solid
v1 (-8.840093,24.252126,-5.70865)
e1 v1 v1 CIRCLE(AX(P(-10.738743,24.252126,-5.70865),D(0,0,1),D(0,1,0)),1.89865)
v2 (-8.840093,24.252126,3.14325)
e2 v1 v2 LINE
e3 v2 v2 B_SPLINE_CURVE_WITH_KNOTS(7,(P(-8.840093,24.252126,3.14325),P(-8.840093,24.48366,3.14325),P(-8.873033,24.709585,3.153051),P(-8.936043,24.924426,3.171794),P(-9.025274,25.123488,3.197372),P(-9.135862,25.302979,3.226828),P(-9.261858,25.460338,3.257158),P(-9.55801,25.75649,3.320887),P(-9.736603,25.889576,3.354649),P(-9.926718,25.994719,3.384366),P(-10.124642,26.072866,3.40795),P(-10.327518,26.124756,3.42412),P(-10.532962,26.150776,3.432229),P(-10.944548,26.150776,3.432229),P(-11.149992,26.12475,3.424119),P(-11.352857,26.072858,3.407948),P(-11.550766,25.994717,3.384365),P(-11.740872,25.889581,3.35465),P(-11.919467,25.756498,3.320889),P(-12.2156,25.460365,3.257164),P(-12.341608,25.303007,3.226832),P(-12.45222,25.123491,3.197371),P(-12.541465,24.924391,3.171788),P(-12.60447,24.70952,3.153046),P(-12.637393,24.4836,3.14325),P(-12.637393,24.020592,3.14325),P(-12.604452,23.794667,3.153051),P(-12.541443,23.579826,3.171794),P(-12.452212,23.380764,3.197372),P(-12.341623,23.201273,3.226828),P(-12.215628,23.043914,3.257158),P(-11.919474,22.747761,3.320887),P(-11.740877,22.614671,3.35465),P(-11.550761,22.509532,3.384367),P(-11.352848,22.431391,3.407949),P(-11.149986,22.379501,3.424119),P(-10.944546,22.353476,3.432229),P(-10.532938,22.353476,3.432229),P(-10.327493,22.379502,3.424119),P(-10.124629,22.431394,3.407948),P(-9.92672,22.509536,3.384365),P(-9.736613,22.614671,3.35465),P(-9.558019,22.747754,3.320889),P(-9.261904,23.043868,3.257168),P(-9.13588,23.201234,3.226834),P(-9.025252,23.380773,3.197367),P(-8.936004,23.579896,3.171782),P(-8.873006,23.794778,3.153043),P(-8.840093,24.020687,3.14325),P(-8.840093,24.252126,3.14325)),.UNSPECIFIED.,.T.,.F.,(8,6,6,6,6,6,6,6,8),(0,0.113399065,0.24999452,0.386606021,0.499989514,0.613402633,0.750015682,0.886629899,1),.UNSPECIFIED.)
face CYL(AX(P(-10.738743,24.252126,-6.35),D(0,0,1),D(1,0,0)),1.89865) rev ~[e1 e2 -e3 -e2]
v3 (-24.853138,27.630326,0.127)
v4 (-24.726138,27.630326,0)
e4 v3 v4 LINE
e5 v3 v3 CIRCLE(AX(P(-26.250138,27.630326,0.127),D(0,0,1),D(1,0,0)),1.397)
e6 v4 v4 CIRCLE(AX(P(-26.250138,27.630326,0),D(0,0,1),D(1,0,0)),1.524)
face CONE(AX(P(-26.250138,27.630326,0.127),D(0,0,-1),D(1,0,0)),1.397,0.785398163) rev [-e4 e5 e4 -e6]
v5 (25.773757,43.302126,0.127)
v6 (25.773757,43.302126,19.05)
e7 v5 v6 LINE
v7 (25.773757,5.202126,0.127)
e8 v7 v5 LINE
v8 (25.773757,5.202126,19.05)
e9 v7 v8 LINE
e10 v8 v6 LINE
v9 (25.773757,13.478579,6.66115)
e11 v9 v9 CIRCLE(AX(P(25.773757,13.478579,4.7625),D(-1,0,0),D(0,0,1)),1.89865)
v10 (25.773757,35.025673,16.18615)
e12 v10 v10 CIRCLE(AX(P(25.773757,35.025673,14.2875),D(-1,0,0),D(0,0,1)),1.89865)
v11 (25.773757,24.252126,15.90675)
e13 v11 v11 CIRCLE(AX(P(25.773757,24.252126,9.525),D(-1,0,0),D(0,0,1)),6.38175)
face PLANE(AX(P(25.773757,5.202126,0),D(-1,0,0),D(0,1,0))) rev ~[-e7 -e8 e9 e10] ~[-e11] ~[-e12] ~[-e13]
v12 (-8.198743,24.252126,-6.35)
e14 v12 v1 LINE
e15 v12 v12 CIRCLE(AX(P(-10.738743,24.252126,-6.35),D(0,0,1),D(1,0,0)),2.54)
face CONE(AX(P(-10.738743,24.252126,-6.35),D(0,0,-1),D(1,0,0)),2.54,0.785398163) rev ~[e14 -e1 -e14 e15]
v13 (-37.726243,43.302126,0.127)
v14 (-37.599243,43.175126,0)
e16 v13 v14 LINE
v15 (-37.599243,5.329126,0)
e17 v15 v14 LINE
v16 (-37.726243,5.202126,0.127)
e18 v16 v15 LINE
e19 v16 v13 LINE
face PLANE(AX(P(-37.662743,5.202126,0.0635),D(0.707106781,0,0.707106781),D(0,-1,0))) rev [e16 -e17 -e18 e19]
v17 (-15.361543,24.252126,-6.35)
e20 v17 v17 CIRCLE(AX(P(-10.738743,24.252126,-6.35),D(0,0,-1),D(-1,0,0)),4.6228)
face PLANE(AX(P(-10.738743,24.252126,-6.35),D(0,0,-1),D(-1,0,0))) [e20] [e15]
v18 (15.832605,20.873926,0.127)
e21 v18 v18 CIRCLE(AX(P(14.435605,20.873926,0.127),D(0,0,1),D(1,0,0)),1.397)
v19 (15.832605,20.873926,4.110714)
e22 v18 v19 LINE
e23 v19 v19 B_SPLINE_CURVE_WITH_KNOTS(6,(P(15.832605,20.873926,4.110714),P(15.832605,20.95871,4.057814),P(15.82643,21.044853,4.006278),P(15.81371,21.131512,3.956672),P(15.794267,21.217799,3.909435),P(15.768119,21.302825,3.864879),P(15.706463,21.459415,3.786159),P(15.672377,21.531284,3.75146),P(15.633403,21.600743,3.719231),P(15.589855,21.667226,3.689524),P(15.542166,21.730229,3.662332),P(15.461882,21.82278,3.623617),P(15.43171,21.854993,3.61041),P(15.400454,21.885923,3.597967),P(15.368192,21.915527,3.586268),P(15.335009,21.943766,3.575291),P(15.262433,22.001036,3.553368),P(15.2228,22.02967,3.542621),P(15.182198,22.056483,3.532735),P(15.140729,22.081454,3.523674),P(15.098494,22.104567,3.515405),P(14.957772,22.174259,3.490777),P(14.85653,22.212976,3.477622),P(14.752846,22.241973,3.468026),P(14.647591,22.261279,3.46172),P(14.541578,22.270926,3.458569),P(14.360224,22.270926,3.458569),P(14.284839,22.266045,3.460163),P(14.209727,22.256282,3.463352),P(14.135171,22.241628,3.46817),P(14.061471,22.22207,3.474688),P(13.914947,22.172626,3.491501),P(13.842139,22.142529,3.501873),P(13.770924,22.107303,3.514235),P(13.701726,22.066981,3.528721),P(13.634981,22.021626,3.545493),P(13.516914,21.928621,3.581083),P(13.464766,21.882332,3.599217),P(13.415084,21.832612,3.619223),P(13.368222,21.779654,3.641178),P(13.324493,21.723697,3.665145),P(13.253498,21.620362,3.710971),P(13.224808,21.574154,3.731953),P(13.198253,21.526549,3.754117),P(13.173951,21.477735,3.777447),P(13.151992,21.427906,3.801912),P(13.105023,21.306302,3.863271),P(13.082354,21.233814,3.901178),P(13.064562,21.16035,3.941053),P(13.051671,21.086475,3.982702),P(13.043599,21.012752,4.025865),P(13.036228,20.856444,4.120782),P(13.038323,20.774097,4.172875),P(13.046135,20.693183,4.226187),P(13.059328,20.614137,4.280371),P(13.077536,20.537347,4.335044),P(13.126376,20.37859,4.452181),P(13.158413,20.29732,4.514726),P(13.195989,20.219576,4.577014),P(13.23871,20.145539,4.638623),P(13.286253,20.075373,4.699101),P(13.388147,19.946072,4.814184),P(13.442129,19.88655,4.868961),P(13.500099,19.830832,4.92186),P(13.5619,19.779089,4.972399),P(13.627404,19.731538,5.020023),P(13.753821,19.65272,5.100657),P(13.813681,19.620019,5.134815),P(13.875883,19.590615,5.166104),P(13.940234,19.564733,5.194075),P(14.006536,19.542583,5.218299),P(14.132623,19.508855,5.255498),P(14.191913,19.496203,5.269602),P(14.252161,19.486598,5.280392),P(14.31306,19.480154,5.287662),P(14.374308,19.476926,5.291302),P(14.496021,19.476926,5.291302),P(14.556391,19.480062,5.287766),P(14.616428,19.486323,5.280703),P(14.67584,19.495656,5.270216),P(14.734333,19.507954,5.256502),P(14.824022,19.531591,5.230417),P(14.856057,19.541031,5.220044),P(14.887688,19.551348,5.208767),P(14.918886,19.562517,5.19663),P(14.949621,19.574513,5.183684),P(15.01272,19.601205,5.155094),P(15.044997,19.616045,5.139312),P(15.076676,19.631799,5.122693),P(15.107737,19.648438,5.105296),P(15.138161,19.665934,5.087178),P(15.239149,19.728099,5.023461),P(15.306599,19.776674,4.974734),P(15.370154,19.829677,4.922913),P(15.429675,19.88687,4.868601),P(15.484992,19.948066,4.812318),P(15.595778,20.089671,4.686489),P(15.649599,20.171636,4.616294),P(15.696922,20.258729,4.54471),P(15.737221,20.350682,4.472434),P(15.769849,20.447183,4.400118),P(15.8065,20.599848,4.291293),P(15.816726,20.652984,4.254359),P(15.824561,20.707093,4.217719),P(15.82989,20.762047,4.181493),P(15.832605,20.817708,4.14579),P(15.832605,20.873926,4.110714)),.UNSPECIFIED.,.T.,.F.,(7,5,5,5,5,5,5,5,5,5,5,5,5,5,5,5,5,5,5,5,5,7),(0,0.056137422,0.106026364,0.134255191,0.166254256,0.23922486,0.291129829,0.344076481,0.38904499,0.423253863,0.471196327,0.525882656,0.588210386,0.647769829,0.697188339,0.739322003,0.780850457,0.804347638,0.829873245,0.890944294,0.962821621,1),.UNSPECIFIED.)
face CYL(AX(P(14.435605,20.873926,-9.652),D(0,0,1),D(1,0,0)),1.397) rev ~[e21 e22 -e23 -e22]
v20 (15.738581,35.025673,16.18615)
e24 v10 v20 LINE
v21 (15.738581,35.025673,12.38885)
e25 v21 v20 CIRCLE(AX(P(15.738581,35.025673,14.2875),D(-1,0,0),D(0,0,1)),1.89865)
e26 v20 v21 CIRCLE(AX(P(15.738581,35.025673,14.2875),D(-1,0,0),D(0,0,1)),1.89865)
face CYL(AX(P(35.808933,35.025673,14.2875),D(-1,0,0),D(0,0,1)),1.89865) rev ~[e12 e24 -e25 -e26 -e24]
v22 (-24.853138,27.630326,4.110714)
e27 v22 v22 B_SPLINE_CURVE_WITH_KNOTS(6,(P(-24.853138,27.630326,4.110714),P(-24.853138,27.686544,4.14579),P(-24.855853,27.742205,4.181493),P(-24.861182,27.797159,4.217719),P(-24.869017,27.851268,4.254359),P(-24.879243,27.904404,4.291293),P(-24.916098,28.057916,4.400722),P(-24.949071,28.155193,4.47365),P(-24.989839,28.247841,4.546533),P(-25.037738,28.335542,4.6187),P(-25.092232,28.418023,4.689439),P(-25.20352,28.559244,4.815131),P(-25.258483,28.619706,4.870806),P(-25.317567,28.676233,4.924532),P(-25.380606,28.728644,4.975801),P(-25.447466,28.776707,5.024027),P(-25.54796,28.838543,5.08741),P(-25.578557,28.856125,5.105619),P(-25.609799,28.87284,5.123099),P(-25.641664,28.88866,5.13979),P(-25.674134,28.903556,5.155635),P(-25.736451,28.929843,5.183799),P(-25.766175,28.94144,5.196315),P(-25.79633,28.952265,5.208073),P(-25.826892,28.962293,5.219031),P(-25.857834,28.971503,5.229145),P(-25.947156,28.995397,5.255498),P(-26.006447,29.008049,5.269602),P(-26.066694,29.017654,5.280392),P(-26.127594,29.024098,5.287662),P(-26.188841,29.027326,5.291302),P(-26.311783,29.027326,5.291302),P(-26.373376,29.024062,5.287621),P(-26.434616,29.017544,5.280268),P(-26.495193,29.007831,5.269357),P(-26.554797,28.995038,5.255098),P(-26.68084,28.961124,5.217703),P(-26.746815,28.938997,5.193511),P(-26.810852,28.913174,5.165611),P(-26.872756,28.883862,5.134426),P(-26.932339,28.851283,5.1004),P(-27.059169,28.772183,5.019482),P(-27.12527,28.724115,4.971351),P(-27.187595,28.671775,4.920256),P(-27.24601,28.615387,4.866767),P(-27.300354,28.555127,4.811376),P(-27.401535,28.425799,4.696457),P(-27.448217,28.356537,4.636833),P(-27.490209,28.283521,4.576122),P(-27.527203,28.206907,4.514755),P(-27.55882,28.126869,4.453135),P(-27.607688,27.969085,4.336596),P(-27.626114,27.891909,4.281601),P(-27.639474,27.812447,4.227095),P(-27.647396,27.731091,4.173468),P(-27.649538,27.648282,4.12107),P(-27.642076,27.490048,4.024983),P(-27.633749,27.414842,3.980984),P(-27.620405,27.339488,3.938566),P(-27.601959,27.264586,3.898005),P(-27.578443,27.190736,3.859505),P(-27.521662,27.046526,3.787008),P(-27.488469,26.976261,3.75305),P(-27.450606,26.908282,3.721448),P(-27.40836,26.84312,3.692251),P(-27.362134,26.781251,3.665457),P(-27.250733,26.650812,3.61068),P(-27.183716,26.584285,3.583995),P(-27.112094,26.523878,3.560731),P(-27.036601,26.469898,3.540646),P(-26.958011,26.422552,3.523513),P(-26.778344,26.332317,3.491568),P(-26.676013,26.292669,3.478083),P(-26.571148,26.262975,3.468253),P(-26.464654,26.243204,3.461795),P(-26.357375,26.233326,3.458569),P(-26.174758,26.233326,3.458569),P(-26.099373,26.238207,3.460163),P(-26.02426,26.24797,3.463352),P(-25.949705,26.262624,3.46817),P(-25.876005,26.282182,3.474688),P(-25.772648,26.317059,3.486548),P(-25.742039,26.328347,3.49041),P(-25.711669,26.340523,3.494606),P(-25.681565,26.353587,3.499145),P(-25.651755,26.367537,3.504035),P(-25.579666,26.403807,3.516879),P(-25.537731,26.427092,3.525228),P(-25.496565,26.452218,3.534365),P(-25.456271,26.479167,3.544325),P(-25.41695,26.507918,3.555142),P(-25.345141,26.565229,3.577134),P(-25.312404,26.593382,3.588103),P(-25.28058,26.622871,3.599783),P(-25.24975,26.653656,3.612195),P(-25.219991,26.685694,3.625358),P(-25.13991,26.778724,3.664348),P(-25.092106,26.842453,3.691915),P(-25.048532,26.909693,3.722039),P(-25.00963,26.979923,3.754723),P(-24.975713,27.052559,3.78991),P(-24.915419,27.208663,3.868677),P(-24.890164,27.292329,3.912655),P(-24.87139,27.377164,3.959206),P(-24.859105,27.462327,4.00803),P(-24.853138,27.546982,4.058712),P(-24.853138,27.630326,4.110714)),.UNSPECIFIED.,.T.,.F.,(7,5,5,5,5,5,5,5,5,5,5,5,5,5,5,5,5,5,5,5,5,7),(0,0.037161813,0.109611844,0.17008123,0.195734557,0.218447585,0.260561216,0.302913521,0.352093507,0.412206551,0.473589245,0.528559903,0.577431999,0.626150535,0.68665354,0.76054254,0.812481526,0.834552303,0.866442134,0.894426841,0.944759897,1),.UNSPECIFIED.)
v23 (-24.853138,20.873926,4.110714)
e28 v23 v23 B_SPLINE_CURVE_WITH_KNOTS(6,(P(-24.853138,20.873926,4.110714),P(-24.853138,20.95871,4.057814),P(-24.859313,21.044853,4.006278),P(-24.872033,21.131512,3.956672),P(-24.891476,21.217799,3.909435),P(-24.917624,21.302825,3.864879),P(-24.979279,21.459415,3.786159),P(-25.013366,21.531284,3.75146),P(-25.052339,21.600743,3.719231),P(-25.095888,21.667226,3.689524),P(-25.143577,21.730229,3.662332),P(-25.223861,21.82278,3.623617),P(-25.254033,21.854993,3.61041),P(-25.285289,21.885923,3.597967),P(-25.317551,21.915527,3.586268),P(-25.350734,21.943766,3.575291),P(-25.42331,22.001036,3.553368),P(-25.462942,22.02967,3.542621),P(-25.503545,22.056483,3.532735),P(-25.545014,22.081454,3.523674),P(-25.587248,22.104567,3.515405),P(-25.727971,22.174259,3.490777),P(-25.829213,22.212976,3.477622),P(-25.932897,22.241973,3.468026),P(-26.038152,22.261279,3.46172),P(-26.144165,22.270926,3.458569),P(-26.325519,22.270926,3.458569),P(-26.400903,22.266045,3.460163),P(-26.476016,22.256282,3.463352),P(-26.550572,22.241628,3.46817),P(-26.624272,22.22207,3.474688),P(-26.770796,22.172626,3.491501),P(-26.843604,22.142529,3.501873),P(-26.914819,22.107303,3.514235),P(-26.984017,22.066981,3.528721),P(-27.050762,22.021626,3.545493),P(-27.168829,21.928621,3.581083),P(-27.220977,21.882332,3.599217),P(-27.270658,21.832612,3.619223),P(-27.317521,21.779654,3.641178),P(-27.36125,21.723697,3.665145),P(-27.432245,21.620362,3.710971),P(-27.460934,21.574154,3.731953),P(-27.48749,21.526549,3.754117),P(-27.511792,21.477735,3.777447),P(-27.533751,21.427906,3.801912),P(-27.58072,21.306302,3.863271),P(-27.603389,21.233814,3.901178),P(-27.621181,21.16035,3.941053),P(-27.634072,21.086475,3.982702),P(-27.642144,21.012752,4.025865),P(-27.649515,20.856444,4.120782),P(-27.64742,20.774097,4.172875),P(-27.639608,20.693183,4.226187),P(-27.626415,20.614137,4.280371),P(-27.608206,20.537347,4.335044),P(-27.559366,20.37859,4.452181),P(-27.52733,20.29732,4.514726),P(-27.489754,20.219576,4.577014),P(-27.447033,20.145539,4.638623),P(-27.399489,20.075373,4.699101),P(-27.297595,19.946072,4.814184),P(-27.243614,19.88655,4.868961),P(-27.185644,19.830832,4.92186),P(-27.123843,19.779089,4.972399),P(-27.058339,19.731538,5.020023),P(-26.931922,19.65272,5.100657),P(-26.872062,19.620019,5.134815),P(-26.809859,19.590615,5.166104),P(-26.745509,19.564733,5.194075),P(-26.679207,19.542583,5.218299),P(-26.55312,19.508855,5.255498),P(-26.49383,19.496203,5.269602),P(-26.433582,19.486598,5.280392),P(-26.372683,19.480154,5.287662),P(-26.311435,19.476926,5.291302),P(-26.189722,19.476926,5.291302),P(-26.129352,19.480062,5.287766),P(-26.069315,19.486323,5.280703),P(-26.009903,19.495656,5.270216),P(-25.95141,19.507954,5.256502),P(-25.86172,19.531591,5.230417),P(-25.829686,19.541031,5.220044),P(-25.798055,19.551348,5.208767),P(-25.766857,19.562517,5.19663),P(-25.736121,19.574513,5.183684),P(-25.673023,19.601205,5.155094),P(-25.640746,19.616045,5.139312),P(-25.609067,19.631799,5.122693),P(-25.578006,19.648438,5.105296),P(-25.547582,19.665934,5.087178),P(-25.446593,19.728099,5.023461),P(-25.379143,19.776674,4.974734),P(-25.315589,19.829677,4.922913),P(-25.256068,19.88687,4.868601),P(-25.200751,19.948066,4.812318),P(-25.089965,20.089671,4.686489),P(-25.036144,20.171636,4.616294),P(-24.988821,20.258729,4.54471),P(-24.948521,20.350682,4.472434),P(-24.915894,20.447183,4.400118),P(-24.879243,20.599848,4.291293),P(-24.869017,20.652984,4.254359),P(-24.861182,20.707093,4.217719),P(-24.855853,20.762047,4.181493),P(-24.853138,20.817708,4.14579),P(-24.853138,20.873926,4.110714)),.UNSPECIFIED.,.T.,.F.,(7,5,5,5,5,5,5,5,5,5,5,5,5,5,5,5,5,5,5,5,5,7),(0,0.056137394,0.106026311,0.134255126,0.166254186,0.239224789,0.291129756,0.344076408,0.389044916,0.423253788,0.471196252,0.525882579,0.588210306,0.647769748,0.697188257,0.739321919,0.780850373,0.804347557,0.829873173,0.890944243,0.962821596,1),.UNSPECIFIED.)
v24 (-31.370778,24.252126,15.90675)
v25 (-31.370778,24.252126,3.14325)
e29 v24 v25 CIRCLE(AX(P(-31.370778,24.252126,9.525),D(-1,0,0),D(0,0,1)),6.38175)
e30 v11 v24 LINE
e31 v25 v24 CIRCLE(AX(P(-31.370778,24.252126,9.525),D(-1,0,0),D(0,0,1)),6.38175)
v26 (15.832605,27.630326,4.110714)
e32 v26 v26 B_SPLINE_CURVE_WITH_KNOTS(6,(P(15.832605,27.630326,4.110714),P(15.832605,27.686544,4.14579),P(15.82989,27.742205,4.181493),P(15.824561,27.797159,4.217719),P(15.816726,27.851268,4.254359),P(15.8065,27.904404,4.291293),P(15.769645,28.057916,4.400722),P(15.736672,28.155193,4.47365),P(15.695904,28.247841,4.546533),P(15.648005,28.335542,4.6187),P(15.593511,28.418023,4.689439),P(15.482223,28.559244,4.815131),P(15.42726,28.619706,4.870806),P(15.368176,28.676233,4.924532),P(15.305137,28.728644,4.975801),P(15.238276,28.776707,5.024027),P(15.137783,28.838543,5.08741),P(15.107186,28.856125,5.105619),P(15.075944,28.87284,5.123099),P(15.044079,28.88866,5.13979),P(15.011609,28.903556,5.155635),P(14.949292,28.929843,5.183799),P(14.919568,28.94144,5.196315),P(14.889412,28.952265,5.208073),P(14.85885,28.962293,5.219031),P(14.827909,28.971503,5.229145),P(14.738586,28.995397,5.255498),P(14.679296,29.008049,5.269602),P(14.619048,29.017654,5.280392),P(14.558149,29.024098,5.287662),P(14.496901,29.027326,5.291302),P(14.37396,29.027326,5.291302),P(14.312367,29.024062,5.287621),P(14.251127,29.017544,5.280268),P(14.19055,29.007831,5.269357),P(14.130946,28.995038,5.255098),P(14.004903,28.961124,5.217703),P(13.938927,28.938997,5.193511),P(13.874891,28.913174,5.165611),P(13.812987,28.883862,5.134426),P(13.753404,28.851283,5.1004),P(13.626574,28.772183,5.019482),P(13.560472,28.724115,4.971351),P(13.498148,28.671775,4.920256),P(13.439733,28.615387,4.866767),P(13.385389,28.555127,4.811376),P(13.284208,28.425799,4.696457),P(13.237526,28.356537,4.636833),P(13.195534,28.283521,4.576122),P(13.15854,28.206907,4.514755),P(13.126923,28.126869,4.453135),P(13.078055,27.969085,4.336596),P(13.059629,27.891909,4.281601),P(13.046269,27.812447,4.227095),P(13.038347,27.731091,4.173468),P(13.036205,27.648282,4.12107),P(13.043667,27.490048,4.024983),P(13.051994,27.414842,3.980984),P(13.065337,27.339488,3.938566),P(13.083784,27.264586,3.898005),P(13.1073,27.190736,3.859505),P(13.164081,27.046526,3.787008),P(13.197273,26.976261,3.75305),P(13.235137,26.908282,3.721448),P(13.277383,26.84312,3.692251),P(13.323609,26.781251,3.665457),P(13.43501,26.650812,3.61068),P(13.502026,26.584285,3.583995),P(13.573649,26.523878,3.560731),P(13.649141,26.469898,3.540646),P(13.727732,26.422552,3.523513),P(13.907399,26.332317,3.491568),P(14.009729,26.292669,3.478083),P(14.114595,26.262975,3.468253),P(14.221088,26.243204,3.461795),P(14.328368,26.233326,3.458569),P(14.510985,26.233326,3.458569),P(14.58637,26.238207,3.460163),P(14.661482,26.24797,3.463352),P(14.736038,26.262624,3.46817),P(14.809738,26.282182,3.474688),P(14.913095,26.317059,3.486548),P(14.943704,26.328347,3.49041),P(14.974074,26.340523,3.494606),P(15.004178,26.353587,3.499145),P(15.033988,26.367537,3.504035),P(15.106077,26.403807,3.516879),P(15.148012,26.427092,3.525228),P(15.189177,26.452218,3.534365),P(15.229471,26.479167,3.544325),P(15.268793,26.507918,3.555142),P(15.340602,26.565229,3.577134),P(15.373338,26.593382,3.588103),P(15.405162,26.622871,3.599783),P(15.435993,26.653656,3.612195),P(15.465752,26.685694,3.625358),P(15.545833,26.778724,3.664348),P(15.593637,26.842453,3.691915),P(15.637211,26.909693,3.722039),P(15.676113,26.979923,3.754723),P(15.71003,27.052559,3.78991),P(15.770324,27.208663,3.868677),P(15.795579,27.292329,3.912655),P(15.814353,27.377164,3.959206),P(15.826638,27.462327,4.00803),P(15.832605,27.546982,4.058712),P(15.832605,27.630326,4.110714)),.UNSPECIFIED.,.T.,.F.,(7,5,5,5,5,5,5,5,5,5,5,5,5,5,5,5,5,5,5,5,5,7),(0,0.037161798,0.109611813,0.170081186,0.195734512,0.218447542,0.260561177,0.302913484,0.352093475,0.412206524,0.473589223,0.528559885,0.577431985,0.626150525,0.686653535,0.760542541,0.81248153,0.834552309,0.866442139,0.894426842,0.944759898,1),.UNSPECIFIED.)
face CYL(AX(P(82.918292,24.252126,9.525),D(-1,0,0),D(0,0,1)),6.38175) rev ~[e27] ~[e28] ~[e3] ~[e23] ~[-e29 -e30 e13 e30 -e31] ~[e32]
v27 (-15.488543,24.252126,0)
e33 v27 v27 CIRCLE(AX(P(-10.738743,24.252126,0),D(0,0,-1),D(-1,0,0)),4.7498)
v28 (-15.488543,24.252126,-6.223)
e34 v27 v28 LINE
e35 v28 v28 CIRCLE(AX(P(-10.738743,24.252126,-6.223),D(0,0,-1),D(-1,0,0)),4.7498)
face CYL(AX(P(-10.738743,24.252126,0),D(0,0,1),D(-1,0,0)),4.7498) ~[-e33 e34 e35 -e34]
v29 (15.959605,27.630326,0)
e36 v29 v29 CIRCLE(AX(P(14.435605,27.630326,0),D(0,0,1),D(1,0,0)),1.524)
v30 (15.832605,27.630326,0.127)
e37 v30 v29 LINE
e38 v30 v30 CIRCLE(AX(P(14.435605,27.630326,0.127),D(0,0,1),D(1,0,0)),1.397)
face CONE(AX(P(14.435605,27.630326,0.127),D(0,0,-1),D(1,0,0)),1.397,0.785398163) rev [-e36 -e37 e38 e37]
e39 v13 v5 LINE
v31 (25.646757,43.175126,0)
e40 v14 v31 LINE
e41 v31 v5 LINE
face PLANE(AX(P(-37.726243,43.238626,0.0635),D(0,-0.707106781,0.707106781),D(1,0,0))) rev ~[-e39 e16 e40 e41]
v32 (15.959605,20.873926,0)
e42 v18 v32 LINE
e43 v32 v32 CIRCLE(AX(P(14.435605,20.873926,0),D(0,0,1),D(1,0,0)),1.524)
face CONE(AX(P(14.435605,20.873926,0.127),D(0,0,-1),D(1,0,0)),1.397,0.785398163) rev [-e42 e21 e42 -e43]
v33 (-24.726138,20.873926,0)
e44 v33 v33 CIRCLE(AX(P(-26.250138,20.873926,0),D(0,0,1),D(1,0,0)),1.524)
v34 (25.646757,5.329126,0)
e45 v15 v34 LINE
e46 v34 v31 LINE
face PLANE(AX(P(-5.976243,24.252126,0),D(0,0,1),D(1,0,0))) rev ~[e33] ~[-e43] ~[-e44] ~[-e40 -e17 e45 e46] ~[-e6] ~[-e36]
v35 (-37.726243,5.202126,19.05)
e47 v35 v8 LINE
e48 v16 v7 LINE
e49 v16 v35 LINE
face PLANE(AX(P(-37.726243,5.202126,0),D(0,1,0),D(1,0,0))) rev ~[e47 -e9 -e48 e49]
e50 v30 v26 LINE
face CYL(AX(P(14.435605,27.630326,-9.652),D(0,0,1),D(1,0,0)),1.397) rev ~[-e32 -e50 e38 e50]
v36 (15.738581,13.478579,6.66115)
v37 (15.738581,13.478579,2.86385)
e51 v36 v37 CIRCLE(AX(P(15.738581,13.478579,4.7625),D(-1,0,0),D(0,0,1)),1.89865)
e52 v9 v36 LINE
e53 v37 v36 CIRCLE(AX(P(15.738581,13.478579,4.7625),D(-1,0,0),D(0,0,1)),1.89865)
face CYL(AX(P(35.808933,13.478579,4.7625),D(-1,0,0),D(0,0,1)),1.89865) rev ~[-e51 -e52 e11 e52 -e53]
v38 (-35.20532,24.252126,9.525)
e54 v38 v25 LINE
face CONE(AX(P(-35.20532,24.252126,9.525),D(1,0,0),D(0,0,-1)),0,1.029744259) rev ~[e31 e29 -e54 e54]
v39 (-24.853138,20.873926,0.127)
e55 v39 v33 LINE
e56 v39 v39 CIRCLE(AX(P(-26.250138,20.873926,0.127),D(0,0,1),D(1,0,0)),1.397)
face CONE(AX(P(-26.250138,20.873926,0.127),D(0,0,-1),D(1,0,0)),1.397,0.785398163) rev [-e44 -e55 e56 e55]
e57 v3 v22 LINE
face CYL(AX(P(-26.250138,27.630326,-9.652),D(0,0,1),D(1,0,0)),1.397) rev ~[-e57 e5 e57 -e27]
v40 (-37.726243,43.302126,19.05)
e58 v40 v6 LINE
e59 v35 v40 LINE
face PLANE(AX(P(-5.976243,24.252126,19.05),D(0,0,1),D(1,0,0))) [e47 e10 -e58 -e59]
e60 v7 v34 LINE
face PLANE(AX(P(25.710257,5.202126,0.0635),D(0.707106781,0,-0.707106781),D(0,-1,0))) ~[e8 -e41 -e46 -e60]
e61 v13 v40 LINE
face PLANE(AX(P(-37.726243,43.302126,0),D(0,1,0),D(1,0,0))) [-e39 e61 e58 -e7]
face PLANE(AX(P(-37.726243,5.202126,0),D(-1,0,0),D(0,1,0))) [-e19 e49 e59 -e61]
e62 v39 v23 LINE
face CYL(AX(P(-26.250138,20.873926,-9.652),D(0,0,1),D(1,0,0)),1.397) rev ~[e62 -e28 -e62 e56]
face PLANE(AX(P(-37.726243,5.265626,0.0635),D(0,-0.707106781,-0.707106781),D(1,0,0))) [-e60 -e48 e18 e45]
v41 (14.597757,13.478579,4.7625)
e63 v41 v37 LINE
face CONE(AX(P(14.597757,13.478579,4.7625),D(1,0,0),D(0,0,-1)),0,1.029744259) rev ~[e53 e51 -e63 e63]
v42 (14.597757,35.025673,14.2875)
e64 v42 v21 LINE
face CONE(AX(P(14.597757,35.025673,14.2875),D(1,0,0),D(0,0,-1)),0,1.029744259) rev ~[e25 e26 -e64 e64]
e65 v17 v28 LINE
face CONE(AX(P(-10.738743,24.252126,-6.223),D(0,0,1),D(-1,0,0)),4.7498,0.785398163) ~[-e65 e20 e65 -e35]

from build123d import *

# Parameters (mm, degrees)
SKETCH1_W                         = 63.5
SKETCH1_H                         = 38.1
BOSS_EXTRUDE1_DEPTH               = 19.05
F_1_2_0_5025_DIAMETER_HOLE1_D     = 12.7635
F_1_2_0_5025_DIAMETER_HOLE1_DEPTH = 57.144535069
F_1_2_0_5025_DIAMETER_HOLE1_TIP   = 3.834542255
F_35_0_11_DIAMETER_HOLE1_D        = 2.794
F_35_0_11_DIAMETER_HOLE1_DEPTH    = 9.652
F_35_0_11_DIAMETER_HOLE1_TIP      = 0.839402285
F_10_24_TAPPED_HOLE1_D            = 3.7973
F_10_24_TAPPED_HOLE1_DEPTH        = 10.035175986
F_10_24_TAPPED_HOLE1_TIP          = 1.140824014
SKETCH9_R                         = 4.7498
BOSS_EXTRUDE2_DEPTH               = 6.35
F_10_24_TAPPED_HOLE2_D            = 3.7973
F_10_24_TAPPED_HOLE2_DEPTH        = 10.414
F_10_24_TAPPED_HOLE2_CSINK_D      = 5.08
F_10_24_TAPPED_HOLE2_CSINK_ANGLE  = 90
F_10_24_TAPPED_HOLE2_TIP          = 1.140824014
CHAMFER1_SIZE                     = 0.127


with BuildPart() as part:
    # Sketch1 → Boss-Extrude1 (new body)
    with BuildSketch(Plane.XY):
        with Locations((-5.976242834, 24.252126053)):
            Rectangle(SKETCH1_W, SKETCH1_H)
    extrude(amount=BOSS_EXTRUDE1_DEPTH)

    # 1/2 (0.5025) Diameter Hole1
    with Locations(Plane(origin=(25.773757166, 0, 0), x_dir=(0, 0, -1), z_dir=(1, 0, 0))):
        with Locations((-9.525, 24.252126053)):
            Hole(F_1_2_0_5025_DIAMETER_HOLE1_D / 2, depth=F_1_2_0_5025_DIAMETER_HOLE1_DEPTH)
            with Locations((0, 0, -(F_1_2_0_5025_DIAMETER_HOLE1_DEPTH + F_1_2_0_5025_DIAMETER_HOLE1_TIP / 2))):  # 118° drill point
                Cone(0, F_1_2_0_5025_DIAMETER_HOLE1_D / 2, F_1_2_0_5025_DIAMETER_HOLE1_TIP, mode=Mode.SUBTRACT)

    # #35 (0.11) Diameter Hole1
    with Locations(Plane(origin=(0, 0, 0), x_dir=(-1, 0, 0), z_dir=(0, 0, -1))):
        with Locations((26.250138314, 20.873926053), (26.250138314, 27.630326053), (-14.435604522, 27.630326053), (-14.435604522, 20.873926053)):
            Hole(F_35_0_11_DIAMETER_HOLE1_D / 2, depth=F_35_0_11_DIAMETER_HOLE1_DEPTH)
            with Locations((0, 0, -(F_35_0_11_DIAMETER_HOLE1_DEPTH + F_35_0_11_DIAMETER_HOLE1_TIP / 2))):  # 118° drill point
                Cone(0, F_35_0_11_DIAMETER_HOLE1_D / 2, F_35_0_11_DIAMETER_HOLE1_TIP, mode=Mode.SUBTRACT)

    # #10-24 Tapped Hole1
    with Locations(Plane(origin=(25.773757166, 0, 0), x_dir=(0, 0, -1), z_dir=(1, 0, 0))):
        with Locations((-4.7625, 13.478578619), (-14.2875, 35.025673487)):
            Hole(F_10_24_TAPPED_HOLE1_D / 2, depth=F_10_24_TAPPED_HOLE1_DEPTH)
            with Locations((0, 0, -(F_10_24_TAPPED_HOLE1_DEPTH + F_10_24_TAPPED_HOLE1_TIP / 2))):  # 118° drill point
                Cone(0, F_10_24_TAPPED_HOLE1_D / 2, F_10_24_TAPPED_HOLE1_TIP, mode=Mode.SUBTRACT)

    # Sketch9 → Boss-Extrude2 (add)
    with BuildSketch(Plane(origin=(0, 0, 0), x_dir=(-1, 0, 0), z_dir=(0, 0, -1))):
        with Locations((10.738742834, 24.252126053)):
            Circle(SKETCH9_R)
    extrude(amount=BOSS_EXTRUDE2_DEPTH)

    # #10-24 Tapped Hole2
    with Locations(Plane(origin=(0, 0, -6.35), x_dir=(-1, 0, 0), z_dir=(0, 0, -1))):
        with Locations((10.738742834, 24.252126053)):
            CounterSinkHole(F_10_24_TAPPED_HOLE2_D / 2, F_10_24_TAPPED_HOLE2_CSINK_D / 2, depth=F_10_24_TAPPED_HOLE2_DEPTH, counter_sink_angle=F_10_24_TAPPED_HOLE2_CSINK_ANGLE)
            with Locations((0, 0, -(F_10_24_TAPPED_HOLE2_DEPTH + F_10_24_TAPPED_HOLE2_TIP / 2))):  # 118° drill point
                Cone(0, F_10_24_TAPPED_HOLE2_D / 2, F_10_24_TAPPED_HOLE2_TIP, mode=Mode.SUBTRACT)

    # Chamfer1
    chamfer1_edges = [part.edges().sort_by_distance(p)[0] for p in [
        (13.038604522, 20.873926053, 0),
        (13.038604522, 27.630326053, 0),
        (-27.647138314, 27.630326053, 0),
        (-27.647138314, 20.873926053, 0),
        (-37.726242834, 24.252126053, 0),
        (-5.976242834, 43.302126053, 0),
        (-5.988942834, 24.252126053, -6.35),
        (25.773757166, 24.252126053, 0),
        (-5.976242834, 5.202126053, 0),
    ]]
    chamfer(chamfer1_edges, length=CHAMFER1_SIZE)


solid = part.part
